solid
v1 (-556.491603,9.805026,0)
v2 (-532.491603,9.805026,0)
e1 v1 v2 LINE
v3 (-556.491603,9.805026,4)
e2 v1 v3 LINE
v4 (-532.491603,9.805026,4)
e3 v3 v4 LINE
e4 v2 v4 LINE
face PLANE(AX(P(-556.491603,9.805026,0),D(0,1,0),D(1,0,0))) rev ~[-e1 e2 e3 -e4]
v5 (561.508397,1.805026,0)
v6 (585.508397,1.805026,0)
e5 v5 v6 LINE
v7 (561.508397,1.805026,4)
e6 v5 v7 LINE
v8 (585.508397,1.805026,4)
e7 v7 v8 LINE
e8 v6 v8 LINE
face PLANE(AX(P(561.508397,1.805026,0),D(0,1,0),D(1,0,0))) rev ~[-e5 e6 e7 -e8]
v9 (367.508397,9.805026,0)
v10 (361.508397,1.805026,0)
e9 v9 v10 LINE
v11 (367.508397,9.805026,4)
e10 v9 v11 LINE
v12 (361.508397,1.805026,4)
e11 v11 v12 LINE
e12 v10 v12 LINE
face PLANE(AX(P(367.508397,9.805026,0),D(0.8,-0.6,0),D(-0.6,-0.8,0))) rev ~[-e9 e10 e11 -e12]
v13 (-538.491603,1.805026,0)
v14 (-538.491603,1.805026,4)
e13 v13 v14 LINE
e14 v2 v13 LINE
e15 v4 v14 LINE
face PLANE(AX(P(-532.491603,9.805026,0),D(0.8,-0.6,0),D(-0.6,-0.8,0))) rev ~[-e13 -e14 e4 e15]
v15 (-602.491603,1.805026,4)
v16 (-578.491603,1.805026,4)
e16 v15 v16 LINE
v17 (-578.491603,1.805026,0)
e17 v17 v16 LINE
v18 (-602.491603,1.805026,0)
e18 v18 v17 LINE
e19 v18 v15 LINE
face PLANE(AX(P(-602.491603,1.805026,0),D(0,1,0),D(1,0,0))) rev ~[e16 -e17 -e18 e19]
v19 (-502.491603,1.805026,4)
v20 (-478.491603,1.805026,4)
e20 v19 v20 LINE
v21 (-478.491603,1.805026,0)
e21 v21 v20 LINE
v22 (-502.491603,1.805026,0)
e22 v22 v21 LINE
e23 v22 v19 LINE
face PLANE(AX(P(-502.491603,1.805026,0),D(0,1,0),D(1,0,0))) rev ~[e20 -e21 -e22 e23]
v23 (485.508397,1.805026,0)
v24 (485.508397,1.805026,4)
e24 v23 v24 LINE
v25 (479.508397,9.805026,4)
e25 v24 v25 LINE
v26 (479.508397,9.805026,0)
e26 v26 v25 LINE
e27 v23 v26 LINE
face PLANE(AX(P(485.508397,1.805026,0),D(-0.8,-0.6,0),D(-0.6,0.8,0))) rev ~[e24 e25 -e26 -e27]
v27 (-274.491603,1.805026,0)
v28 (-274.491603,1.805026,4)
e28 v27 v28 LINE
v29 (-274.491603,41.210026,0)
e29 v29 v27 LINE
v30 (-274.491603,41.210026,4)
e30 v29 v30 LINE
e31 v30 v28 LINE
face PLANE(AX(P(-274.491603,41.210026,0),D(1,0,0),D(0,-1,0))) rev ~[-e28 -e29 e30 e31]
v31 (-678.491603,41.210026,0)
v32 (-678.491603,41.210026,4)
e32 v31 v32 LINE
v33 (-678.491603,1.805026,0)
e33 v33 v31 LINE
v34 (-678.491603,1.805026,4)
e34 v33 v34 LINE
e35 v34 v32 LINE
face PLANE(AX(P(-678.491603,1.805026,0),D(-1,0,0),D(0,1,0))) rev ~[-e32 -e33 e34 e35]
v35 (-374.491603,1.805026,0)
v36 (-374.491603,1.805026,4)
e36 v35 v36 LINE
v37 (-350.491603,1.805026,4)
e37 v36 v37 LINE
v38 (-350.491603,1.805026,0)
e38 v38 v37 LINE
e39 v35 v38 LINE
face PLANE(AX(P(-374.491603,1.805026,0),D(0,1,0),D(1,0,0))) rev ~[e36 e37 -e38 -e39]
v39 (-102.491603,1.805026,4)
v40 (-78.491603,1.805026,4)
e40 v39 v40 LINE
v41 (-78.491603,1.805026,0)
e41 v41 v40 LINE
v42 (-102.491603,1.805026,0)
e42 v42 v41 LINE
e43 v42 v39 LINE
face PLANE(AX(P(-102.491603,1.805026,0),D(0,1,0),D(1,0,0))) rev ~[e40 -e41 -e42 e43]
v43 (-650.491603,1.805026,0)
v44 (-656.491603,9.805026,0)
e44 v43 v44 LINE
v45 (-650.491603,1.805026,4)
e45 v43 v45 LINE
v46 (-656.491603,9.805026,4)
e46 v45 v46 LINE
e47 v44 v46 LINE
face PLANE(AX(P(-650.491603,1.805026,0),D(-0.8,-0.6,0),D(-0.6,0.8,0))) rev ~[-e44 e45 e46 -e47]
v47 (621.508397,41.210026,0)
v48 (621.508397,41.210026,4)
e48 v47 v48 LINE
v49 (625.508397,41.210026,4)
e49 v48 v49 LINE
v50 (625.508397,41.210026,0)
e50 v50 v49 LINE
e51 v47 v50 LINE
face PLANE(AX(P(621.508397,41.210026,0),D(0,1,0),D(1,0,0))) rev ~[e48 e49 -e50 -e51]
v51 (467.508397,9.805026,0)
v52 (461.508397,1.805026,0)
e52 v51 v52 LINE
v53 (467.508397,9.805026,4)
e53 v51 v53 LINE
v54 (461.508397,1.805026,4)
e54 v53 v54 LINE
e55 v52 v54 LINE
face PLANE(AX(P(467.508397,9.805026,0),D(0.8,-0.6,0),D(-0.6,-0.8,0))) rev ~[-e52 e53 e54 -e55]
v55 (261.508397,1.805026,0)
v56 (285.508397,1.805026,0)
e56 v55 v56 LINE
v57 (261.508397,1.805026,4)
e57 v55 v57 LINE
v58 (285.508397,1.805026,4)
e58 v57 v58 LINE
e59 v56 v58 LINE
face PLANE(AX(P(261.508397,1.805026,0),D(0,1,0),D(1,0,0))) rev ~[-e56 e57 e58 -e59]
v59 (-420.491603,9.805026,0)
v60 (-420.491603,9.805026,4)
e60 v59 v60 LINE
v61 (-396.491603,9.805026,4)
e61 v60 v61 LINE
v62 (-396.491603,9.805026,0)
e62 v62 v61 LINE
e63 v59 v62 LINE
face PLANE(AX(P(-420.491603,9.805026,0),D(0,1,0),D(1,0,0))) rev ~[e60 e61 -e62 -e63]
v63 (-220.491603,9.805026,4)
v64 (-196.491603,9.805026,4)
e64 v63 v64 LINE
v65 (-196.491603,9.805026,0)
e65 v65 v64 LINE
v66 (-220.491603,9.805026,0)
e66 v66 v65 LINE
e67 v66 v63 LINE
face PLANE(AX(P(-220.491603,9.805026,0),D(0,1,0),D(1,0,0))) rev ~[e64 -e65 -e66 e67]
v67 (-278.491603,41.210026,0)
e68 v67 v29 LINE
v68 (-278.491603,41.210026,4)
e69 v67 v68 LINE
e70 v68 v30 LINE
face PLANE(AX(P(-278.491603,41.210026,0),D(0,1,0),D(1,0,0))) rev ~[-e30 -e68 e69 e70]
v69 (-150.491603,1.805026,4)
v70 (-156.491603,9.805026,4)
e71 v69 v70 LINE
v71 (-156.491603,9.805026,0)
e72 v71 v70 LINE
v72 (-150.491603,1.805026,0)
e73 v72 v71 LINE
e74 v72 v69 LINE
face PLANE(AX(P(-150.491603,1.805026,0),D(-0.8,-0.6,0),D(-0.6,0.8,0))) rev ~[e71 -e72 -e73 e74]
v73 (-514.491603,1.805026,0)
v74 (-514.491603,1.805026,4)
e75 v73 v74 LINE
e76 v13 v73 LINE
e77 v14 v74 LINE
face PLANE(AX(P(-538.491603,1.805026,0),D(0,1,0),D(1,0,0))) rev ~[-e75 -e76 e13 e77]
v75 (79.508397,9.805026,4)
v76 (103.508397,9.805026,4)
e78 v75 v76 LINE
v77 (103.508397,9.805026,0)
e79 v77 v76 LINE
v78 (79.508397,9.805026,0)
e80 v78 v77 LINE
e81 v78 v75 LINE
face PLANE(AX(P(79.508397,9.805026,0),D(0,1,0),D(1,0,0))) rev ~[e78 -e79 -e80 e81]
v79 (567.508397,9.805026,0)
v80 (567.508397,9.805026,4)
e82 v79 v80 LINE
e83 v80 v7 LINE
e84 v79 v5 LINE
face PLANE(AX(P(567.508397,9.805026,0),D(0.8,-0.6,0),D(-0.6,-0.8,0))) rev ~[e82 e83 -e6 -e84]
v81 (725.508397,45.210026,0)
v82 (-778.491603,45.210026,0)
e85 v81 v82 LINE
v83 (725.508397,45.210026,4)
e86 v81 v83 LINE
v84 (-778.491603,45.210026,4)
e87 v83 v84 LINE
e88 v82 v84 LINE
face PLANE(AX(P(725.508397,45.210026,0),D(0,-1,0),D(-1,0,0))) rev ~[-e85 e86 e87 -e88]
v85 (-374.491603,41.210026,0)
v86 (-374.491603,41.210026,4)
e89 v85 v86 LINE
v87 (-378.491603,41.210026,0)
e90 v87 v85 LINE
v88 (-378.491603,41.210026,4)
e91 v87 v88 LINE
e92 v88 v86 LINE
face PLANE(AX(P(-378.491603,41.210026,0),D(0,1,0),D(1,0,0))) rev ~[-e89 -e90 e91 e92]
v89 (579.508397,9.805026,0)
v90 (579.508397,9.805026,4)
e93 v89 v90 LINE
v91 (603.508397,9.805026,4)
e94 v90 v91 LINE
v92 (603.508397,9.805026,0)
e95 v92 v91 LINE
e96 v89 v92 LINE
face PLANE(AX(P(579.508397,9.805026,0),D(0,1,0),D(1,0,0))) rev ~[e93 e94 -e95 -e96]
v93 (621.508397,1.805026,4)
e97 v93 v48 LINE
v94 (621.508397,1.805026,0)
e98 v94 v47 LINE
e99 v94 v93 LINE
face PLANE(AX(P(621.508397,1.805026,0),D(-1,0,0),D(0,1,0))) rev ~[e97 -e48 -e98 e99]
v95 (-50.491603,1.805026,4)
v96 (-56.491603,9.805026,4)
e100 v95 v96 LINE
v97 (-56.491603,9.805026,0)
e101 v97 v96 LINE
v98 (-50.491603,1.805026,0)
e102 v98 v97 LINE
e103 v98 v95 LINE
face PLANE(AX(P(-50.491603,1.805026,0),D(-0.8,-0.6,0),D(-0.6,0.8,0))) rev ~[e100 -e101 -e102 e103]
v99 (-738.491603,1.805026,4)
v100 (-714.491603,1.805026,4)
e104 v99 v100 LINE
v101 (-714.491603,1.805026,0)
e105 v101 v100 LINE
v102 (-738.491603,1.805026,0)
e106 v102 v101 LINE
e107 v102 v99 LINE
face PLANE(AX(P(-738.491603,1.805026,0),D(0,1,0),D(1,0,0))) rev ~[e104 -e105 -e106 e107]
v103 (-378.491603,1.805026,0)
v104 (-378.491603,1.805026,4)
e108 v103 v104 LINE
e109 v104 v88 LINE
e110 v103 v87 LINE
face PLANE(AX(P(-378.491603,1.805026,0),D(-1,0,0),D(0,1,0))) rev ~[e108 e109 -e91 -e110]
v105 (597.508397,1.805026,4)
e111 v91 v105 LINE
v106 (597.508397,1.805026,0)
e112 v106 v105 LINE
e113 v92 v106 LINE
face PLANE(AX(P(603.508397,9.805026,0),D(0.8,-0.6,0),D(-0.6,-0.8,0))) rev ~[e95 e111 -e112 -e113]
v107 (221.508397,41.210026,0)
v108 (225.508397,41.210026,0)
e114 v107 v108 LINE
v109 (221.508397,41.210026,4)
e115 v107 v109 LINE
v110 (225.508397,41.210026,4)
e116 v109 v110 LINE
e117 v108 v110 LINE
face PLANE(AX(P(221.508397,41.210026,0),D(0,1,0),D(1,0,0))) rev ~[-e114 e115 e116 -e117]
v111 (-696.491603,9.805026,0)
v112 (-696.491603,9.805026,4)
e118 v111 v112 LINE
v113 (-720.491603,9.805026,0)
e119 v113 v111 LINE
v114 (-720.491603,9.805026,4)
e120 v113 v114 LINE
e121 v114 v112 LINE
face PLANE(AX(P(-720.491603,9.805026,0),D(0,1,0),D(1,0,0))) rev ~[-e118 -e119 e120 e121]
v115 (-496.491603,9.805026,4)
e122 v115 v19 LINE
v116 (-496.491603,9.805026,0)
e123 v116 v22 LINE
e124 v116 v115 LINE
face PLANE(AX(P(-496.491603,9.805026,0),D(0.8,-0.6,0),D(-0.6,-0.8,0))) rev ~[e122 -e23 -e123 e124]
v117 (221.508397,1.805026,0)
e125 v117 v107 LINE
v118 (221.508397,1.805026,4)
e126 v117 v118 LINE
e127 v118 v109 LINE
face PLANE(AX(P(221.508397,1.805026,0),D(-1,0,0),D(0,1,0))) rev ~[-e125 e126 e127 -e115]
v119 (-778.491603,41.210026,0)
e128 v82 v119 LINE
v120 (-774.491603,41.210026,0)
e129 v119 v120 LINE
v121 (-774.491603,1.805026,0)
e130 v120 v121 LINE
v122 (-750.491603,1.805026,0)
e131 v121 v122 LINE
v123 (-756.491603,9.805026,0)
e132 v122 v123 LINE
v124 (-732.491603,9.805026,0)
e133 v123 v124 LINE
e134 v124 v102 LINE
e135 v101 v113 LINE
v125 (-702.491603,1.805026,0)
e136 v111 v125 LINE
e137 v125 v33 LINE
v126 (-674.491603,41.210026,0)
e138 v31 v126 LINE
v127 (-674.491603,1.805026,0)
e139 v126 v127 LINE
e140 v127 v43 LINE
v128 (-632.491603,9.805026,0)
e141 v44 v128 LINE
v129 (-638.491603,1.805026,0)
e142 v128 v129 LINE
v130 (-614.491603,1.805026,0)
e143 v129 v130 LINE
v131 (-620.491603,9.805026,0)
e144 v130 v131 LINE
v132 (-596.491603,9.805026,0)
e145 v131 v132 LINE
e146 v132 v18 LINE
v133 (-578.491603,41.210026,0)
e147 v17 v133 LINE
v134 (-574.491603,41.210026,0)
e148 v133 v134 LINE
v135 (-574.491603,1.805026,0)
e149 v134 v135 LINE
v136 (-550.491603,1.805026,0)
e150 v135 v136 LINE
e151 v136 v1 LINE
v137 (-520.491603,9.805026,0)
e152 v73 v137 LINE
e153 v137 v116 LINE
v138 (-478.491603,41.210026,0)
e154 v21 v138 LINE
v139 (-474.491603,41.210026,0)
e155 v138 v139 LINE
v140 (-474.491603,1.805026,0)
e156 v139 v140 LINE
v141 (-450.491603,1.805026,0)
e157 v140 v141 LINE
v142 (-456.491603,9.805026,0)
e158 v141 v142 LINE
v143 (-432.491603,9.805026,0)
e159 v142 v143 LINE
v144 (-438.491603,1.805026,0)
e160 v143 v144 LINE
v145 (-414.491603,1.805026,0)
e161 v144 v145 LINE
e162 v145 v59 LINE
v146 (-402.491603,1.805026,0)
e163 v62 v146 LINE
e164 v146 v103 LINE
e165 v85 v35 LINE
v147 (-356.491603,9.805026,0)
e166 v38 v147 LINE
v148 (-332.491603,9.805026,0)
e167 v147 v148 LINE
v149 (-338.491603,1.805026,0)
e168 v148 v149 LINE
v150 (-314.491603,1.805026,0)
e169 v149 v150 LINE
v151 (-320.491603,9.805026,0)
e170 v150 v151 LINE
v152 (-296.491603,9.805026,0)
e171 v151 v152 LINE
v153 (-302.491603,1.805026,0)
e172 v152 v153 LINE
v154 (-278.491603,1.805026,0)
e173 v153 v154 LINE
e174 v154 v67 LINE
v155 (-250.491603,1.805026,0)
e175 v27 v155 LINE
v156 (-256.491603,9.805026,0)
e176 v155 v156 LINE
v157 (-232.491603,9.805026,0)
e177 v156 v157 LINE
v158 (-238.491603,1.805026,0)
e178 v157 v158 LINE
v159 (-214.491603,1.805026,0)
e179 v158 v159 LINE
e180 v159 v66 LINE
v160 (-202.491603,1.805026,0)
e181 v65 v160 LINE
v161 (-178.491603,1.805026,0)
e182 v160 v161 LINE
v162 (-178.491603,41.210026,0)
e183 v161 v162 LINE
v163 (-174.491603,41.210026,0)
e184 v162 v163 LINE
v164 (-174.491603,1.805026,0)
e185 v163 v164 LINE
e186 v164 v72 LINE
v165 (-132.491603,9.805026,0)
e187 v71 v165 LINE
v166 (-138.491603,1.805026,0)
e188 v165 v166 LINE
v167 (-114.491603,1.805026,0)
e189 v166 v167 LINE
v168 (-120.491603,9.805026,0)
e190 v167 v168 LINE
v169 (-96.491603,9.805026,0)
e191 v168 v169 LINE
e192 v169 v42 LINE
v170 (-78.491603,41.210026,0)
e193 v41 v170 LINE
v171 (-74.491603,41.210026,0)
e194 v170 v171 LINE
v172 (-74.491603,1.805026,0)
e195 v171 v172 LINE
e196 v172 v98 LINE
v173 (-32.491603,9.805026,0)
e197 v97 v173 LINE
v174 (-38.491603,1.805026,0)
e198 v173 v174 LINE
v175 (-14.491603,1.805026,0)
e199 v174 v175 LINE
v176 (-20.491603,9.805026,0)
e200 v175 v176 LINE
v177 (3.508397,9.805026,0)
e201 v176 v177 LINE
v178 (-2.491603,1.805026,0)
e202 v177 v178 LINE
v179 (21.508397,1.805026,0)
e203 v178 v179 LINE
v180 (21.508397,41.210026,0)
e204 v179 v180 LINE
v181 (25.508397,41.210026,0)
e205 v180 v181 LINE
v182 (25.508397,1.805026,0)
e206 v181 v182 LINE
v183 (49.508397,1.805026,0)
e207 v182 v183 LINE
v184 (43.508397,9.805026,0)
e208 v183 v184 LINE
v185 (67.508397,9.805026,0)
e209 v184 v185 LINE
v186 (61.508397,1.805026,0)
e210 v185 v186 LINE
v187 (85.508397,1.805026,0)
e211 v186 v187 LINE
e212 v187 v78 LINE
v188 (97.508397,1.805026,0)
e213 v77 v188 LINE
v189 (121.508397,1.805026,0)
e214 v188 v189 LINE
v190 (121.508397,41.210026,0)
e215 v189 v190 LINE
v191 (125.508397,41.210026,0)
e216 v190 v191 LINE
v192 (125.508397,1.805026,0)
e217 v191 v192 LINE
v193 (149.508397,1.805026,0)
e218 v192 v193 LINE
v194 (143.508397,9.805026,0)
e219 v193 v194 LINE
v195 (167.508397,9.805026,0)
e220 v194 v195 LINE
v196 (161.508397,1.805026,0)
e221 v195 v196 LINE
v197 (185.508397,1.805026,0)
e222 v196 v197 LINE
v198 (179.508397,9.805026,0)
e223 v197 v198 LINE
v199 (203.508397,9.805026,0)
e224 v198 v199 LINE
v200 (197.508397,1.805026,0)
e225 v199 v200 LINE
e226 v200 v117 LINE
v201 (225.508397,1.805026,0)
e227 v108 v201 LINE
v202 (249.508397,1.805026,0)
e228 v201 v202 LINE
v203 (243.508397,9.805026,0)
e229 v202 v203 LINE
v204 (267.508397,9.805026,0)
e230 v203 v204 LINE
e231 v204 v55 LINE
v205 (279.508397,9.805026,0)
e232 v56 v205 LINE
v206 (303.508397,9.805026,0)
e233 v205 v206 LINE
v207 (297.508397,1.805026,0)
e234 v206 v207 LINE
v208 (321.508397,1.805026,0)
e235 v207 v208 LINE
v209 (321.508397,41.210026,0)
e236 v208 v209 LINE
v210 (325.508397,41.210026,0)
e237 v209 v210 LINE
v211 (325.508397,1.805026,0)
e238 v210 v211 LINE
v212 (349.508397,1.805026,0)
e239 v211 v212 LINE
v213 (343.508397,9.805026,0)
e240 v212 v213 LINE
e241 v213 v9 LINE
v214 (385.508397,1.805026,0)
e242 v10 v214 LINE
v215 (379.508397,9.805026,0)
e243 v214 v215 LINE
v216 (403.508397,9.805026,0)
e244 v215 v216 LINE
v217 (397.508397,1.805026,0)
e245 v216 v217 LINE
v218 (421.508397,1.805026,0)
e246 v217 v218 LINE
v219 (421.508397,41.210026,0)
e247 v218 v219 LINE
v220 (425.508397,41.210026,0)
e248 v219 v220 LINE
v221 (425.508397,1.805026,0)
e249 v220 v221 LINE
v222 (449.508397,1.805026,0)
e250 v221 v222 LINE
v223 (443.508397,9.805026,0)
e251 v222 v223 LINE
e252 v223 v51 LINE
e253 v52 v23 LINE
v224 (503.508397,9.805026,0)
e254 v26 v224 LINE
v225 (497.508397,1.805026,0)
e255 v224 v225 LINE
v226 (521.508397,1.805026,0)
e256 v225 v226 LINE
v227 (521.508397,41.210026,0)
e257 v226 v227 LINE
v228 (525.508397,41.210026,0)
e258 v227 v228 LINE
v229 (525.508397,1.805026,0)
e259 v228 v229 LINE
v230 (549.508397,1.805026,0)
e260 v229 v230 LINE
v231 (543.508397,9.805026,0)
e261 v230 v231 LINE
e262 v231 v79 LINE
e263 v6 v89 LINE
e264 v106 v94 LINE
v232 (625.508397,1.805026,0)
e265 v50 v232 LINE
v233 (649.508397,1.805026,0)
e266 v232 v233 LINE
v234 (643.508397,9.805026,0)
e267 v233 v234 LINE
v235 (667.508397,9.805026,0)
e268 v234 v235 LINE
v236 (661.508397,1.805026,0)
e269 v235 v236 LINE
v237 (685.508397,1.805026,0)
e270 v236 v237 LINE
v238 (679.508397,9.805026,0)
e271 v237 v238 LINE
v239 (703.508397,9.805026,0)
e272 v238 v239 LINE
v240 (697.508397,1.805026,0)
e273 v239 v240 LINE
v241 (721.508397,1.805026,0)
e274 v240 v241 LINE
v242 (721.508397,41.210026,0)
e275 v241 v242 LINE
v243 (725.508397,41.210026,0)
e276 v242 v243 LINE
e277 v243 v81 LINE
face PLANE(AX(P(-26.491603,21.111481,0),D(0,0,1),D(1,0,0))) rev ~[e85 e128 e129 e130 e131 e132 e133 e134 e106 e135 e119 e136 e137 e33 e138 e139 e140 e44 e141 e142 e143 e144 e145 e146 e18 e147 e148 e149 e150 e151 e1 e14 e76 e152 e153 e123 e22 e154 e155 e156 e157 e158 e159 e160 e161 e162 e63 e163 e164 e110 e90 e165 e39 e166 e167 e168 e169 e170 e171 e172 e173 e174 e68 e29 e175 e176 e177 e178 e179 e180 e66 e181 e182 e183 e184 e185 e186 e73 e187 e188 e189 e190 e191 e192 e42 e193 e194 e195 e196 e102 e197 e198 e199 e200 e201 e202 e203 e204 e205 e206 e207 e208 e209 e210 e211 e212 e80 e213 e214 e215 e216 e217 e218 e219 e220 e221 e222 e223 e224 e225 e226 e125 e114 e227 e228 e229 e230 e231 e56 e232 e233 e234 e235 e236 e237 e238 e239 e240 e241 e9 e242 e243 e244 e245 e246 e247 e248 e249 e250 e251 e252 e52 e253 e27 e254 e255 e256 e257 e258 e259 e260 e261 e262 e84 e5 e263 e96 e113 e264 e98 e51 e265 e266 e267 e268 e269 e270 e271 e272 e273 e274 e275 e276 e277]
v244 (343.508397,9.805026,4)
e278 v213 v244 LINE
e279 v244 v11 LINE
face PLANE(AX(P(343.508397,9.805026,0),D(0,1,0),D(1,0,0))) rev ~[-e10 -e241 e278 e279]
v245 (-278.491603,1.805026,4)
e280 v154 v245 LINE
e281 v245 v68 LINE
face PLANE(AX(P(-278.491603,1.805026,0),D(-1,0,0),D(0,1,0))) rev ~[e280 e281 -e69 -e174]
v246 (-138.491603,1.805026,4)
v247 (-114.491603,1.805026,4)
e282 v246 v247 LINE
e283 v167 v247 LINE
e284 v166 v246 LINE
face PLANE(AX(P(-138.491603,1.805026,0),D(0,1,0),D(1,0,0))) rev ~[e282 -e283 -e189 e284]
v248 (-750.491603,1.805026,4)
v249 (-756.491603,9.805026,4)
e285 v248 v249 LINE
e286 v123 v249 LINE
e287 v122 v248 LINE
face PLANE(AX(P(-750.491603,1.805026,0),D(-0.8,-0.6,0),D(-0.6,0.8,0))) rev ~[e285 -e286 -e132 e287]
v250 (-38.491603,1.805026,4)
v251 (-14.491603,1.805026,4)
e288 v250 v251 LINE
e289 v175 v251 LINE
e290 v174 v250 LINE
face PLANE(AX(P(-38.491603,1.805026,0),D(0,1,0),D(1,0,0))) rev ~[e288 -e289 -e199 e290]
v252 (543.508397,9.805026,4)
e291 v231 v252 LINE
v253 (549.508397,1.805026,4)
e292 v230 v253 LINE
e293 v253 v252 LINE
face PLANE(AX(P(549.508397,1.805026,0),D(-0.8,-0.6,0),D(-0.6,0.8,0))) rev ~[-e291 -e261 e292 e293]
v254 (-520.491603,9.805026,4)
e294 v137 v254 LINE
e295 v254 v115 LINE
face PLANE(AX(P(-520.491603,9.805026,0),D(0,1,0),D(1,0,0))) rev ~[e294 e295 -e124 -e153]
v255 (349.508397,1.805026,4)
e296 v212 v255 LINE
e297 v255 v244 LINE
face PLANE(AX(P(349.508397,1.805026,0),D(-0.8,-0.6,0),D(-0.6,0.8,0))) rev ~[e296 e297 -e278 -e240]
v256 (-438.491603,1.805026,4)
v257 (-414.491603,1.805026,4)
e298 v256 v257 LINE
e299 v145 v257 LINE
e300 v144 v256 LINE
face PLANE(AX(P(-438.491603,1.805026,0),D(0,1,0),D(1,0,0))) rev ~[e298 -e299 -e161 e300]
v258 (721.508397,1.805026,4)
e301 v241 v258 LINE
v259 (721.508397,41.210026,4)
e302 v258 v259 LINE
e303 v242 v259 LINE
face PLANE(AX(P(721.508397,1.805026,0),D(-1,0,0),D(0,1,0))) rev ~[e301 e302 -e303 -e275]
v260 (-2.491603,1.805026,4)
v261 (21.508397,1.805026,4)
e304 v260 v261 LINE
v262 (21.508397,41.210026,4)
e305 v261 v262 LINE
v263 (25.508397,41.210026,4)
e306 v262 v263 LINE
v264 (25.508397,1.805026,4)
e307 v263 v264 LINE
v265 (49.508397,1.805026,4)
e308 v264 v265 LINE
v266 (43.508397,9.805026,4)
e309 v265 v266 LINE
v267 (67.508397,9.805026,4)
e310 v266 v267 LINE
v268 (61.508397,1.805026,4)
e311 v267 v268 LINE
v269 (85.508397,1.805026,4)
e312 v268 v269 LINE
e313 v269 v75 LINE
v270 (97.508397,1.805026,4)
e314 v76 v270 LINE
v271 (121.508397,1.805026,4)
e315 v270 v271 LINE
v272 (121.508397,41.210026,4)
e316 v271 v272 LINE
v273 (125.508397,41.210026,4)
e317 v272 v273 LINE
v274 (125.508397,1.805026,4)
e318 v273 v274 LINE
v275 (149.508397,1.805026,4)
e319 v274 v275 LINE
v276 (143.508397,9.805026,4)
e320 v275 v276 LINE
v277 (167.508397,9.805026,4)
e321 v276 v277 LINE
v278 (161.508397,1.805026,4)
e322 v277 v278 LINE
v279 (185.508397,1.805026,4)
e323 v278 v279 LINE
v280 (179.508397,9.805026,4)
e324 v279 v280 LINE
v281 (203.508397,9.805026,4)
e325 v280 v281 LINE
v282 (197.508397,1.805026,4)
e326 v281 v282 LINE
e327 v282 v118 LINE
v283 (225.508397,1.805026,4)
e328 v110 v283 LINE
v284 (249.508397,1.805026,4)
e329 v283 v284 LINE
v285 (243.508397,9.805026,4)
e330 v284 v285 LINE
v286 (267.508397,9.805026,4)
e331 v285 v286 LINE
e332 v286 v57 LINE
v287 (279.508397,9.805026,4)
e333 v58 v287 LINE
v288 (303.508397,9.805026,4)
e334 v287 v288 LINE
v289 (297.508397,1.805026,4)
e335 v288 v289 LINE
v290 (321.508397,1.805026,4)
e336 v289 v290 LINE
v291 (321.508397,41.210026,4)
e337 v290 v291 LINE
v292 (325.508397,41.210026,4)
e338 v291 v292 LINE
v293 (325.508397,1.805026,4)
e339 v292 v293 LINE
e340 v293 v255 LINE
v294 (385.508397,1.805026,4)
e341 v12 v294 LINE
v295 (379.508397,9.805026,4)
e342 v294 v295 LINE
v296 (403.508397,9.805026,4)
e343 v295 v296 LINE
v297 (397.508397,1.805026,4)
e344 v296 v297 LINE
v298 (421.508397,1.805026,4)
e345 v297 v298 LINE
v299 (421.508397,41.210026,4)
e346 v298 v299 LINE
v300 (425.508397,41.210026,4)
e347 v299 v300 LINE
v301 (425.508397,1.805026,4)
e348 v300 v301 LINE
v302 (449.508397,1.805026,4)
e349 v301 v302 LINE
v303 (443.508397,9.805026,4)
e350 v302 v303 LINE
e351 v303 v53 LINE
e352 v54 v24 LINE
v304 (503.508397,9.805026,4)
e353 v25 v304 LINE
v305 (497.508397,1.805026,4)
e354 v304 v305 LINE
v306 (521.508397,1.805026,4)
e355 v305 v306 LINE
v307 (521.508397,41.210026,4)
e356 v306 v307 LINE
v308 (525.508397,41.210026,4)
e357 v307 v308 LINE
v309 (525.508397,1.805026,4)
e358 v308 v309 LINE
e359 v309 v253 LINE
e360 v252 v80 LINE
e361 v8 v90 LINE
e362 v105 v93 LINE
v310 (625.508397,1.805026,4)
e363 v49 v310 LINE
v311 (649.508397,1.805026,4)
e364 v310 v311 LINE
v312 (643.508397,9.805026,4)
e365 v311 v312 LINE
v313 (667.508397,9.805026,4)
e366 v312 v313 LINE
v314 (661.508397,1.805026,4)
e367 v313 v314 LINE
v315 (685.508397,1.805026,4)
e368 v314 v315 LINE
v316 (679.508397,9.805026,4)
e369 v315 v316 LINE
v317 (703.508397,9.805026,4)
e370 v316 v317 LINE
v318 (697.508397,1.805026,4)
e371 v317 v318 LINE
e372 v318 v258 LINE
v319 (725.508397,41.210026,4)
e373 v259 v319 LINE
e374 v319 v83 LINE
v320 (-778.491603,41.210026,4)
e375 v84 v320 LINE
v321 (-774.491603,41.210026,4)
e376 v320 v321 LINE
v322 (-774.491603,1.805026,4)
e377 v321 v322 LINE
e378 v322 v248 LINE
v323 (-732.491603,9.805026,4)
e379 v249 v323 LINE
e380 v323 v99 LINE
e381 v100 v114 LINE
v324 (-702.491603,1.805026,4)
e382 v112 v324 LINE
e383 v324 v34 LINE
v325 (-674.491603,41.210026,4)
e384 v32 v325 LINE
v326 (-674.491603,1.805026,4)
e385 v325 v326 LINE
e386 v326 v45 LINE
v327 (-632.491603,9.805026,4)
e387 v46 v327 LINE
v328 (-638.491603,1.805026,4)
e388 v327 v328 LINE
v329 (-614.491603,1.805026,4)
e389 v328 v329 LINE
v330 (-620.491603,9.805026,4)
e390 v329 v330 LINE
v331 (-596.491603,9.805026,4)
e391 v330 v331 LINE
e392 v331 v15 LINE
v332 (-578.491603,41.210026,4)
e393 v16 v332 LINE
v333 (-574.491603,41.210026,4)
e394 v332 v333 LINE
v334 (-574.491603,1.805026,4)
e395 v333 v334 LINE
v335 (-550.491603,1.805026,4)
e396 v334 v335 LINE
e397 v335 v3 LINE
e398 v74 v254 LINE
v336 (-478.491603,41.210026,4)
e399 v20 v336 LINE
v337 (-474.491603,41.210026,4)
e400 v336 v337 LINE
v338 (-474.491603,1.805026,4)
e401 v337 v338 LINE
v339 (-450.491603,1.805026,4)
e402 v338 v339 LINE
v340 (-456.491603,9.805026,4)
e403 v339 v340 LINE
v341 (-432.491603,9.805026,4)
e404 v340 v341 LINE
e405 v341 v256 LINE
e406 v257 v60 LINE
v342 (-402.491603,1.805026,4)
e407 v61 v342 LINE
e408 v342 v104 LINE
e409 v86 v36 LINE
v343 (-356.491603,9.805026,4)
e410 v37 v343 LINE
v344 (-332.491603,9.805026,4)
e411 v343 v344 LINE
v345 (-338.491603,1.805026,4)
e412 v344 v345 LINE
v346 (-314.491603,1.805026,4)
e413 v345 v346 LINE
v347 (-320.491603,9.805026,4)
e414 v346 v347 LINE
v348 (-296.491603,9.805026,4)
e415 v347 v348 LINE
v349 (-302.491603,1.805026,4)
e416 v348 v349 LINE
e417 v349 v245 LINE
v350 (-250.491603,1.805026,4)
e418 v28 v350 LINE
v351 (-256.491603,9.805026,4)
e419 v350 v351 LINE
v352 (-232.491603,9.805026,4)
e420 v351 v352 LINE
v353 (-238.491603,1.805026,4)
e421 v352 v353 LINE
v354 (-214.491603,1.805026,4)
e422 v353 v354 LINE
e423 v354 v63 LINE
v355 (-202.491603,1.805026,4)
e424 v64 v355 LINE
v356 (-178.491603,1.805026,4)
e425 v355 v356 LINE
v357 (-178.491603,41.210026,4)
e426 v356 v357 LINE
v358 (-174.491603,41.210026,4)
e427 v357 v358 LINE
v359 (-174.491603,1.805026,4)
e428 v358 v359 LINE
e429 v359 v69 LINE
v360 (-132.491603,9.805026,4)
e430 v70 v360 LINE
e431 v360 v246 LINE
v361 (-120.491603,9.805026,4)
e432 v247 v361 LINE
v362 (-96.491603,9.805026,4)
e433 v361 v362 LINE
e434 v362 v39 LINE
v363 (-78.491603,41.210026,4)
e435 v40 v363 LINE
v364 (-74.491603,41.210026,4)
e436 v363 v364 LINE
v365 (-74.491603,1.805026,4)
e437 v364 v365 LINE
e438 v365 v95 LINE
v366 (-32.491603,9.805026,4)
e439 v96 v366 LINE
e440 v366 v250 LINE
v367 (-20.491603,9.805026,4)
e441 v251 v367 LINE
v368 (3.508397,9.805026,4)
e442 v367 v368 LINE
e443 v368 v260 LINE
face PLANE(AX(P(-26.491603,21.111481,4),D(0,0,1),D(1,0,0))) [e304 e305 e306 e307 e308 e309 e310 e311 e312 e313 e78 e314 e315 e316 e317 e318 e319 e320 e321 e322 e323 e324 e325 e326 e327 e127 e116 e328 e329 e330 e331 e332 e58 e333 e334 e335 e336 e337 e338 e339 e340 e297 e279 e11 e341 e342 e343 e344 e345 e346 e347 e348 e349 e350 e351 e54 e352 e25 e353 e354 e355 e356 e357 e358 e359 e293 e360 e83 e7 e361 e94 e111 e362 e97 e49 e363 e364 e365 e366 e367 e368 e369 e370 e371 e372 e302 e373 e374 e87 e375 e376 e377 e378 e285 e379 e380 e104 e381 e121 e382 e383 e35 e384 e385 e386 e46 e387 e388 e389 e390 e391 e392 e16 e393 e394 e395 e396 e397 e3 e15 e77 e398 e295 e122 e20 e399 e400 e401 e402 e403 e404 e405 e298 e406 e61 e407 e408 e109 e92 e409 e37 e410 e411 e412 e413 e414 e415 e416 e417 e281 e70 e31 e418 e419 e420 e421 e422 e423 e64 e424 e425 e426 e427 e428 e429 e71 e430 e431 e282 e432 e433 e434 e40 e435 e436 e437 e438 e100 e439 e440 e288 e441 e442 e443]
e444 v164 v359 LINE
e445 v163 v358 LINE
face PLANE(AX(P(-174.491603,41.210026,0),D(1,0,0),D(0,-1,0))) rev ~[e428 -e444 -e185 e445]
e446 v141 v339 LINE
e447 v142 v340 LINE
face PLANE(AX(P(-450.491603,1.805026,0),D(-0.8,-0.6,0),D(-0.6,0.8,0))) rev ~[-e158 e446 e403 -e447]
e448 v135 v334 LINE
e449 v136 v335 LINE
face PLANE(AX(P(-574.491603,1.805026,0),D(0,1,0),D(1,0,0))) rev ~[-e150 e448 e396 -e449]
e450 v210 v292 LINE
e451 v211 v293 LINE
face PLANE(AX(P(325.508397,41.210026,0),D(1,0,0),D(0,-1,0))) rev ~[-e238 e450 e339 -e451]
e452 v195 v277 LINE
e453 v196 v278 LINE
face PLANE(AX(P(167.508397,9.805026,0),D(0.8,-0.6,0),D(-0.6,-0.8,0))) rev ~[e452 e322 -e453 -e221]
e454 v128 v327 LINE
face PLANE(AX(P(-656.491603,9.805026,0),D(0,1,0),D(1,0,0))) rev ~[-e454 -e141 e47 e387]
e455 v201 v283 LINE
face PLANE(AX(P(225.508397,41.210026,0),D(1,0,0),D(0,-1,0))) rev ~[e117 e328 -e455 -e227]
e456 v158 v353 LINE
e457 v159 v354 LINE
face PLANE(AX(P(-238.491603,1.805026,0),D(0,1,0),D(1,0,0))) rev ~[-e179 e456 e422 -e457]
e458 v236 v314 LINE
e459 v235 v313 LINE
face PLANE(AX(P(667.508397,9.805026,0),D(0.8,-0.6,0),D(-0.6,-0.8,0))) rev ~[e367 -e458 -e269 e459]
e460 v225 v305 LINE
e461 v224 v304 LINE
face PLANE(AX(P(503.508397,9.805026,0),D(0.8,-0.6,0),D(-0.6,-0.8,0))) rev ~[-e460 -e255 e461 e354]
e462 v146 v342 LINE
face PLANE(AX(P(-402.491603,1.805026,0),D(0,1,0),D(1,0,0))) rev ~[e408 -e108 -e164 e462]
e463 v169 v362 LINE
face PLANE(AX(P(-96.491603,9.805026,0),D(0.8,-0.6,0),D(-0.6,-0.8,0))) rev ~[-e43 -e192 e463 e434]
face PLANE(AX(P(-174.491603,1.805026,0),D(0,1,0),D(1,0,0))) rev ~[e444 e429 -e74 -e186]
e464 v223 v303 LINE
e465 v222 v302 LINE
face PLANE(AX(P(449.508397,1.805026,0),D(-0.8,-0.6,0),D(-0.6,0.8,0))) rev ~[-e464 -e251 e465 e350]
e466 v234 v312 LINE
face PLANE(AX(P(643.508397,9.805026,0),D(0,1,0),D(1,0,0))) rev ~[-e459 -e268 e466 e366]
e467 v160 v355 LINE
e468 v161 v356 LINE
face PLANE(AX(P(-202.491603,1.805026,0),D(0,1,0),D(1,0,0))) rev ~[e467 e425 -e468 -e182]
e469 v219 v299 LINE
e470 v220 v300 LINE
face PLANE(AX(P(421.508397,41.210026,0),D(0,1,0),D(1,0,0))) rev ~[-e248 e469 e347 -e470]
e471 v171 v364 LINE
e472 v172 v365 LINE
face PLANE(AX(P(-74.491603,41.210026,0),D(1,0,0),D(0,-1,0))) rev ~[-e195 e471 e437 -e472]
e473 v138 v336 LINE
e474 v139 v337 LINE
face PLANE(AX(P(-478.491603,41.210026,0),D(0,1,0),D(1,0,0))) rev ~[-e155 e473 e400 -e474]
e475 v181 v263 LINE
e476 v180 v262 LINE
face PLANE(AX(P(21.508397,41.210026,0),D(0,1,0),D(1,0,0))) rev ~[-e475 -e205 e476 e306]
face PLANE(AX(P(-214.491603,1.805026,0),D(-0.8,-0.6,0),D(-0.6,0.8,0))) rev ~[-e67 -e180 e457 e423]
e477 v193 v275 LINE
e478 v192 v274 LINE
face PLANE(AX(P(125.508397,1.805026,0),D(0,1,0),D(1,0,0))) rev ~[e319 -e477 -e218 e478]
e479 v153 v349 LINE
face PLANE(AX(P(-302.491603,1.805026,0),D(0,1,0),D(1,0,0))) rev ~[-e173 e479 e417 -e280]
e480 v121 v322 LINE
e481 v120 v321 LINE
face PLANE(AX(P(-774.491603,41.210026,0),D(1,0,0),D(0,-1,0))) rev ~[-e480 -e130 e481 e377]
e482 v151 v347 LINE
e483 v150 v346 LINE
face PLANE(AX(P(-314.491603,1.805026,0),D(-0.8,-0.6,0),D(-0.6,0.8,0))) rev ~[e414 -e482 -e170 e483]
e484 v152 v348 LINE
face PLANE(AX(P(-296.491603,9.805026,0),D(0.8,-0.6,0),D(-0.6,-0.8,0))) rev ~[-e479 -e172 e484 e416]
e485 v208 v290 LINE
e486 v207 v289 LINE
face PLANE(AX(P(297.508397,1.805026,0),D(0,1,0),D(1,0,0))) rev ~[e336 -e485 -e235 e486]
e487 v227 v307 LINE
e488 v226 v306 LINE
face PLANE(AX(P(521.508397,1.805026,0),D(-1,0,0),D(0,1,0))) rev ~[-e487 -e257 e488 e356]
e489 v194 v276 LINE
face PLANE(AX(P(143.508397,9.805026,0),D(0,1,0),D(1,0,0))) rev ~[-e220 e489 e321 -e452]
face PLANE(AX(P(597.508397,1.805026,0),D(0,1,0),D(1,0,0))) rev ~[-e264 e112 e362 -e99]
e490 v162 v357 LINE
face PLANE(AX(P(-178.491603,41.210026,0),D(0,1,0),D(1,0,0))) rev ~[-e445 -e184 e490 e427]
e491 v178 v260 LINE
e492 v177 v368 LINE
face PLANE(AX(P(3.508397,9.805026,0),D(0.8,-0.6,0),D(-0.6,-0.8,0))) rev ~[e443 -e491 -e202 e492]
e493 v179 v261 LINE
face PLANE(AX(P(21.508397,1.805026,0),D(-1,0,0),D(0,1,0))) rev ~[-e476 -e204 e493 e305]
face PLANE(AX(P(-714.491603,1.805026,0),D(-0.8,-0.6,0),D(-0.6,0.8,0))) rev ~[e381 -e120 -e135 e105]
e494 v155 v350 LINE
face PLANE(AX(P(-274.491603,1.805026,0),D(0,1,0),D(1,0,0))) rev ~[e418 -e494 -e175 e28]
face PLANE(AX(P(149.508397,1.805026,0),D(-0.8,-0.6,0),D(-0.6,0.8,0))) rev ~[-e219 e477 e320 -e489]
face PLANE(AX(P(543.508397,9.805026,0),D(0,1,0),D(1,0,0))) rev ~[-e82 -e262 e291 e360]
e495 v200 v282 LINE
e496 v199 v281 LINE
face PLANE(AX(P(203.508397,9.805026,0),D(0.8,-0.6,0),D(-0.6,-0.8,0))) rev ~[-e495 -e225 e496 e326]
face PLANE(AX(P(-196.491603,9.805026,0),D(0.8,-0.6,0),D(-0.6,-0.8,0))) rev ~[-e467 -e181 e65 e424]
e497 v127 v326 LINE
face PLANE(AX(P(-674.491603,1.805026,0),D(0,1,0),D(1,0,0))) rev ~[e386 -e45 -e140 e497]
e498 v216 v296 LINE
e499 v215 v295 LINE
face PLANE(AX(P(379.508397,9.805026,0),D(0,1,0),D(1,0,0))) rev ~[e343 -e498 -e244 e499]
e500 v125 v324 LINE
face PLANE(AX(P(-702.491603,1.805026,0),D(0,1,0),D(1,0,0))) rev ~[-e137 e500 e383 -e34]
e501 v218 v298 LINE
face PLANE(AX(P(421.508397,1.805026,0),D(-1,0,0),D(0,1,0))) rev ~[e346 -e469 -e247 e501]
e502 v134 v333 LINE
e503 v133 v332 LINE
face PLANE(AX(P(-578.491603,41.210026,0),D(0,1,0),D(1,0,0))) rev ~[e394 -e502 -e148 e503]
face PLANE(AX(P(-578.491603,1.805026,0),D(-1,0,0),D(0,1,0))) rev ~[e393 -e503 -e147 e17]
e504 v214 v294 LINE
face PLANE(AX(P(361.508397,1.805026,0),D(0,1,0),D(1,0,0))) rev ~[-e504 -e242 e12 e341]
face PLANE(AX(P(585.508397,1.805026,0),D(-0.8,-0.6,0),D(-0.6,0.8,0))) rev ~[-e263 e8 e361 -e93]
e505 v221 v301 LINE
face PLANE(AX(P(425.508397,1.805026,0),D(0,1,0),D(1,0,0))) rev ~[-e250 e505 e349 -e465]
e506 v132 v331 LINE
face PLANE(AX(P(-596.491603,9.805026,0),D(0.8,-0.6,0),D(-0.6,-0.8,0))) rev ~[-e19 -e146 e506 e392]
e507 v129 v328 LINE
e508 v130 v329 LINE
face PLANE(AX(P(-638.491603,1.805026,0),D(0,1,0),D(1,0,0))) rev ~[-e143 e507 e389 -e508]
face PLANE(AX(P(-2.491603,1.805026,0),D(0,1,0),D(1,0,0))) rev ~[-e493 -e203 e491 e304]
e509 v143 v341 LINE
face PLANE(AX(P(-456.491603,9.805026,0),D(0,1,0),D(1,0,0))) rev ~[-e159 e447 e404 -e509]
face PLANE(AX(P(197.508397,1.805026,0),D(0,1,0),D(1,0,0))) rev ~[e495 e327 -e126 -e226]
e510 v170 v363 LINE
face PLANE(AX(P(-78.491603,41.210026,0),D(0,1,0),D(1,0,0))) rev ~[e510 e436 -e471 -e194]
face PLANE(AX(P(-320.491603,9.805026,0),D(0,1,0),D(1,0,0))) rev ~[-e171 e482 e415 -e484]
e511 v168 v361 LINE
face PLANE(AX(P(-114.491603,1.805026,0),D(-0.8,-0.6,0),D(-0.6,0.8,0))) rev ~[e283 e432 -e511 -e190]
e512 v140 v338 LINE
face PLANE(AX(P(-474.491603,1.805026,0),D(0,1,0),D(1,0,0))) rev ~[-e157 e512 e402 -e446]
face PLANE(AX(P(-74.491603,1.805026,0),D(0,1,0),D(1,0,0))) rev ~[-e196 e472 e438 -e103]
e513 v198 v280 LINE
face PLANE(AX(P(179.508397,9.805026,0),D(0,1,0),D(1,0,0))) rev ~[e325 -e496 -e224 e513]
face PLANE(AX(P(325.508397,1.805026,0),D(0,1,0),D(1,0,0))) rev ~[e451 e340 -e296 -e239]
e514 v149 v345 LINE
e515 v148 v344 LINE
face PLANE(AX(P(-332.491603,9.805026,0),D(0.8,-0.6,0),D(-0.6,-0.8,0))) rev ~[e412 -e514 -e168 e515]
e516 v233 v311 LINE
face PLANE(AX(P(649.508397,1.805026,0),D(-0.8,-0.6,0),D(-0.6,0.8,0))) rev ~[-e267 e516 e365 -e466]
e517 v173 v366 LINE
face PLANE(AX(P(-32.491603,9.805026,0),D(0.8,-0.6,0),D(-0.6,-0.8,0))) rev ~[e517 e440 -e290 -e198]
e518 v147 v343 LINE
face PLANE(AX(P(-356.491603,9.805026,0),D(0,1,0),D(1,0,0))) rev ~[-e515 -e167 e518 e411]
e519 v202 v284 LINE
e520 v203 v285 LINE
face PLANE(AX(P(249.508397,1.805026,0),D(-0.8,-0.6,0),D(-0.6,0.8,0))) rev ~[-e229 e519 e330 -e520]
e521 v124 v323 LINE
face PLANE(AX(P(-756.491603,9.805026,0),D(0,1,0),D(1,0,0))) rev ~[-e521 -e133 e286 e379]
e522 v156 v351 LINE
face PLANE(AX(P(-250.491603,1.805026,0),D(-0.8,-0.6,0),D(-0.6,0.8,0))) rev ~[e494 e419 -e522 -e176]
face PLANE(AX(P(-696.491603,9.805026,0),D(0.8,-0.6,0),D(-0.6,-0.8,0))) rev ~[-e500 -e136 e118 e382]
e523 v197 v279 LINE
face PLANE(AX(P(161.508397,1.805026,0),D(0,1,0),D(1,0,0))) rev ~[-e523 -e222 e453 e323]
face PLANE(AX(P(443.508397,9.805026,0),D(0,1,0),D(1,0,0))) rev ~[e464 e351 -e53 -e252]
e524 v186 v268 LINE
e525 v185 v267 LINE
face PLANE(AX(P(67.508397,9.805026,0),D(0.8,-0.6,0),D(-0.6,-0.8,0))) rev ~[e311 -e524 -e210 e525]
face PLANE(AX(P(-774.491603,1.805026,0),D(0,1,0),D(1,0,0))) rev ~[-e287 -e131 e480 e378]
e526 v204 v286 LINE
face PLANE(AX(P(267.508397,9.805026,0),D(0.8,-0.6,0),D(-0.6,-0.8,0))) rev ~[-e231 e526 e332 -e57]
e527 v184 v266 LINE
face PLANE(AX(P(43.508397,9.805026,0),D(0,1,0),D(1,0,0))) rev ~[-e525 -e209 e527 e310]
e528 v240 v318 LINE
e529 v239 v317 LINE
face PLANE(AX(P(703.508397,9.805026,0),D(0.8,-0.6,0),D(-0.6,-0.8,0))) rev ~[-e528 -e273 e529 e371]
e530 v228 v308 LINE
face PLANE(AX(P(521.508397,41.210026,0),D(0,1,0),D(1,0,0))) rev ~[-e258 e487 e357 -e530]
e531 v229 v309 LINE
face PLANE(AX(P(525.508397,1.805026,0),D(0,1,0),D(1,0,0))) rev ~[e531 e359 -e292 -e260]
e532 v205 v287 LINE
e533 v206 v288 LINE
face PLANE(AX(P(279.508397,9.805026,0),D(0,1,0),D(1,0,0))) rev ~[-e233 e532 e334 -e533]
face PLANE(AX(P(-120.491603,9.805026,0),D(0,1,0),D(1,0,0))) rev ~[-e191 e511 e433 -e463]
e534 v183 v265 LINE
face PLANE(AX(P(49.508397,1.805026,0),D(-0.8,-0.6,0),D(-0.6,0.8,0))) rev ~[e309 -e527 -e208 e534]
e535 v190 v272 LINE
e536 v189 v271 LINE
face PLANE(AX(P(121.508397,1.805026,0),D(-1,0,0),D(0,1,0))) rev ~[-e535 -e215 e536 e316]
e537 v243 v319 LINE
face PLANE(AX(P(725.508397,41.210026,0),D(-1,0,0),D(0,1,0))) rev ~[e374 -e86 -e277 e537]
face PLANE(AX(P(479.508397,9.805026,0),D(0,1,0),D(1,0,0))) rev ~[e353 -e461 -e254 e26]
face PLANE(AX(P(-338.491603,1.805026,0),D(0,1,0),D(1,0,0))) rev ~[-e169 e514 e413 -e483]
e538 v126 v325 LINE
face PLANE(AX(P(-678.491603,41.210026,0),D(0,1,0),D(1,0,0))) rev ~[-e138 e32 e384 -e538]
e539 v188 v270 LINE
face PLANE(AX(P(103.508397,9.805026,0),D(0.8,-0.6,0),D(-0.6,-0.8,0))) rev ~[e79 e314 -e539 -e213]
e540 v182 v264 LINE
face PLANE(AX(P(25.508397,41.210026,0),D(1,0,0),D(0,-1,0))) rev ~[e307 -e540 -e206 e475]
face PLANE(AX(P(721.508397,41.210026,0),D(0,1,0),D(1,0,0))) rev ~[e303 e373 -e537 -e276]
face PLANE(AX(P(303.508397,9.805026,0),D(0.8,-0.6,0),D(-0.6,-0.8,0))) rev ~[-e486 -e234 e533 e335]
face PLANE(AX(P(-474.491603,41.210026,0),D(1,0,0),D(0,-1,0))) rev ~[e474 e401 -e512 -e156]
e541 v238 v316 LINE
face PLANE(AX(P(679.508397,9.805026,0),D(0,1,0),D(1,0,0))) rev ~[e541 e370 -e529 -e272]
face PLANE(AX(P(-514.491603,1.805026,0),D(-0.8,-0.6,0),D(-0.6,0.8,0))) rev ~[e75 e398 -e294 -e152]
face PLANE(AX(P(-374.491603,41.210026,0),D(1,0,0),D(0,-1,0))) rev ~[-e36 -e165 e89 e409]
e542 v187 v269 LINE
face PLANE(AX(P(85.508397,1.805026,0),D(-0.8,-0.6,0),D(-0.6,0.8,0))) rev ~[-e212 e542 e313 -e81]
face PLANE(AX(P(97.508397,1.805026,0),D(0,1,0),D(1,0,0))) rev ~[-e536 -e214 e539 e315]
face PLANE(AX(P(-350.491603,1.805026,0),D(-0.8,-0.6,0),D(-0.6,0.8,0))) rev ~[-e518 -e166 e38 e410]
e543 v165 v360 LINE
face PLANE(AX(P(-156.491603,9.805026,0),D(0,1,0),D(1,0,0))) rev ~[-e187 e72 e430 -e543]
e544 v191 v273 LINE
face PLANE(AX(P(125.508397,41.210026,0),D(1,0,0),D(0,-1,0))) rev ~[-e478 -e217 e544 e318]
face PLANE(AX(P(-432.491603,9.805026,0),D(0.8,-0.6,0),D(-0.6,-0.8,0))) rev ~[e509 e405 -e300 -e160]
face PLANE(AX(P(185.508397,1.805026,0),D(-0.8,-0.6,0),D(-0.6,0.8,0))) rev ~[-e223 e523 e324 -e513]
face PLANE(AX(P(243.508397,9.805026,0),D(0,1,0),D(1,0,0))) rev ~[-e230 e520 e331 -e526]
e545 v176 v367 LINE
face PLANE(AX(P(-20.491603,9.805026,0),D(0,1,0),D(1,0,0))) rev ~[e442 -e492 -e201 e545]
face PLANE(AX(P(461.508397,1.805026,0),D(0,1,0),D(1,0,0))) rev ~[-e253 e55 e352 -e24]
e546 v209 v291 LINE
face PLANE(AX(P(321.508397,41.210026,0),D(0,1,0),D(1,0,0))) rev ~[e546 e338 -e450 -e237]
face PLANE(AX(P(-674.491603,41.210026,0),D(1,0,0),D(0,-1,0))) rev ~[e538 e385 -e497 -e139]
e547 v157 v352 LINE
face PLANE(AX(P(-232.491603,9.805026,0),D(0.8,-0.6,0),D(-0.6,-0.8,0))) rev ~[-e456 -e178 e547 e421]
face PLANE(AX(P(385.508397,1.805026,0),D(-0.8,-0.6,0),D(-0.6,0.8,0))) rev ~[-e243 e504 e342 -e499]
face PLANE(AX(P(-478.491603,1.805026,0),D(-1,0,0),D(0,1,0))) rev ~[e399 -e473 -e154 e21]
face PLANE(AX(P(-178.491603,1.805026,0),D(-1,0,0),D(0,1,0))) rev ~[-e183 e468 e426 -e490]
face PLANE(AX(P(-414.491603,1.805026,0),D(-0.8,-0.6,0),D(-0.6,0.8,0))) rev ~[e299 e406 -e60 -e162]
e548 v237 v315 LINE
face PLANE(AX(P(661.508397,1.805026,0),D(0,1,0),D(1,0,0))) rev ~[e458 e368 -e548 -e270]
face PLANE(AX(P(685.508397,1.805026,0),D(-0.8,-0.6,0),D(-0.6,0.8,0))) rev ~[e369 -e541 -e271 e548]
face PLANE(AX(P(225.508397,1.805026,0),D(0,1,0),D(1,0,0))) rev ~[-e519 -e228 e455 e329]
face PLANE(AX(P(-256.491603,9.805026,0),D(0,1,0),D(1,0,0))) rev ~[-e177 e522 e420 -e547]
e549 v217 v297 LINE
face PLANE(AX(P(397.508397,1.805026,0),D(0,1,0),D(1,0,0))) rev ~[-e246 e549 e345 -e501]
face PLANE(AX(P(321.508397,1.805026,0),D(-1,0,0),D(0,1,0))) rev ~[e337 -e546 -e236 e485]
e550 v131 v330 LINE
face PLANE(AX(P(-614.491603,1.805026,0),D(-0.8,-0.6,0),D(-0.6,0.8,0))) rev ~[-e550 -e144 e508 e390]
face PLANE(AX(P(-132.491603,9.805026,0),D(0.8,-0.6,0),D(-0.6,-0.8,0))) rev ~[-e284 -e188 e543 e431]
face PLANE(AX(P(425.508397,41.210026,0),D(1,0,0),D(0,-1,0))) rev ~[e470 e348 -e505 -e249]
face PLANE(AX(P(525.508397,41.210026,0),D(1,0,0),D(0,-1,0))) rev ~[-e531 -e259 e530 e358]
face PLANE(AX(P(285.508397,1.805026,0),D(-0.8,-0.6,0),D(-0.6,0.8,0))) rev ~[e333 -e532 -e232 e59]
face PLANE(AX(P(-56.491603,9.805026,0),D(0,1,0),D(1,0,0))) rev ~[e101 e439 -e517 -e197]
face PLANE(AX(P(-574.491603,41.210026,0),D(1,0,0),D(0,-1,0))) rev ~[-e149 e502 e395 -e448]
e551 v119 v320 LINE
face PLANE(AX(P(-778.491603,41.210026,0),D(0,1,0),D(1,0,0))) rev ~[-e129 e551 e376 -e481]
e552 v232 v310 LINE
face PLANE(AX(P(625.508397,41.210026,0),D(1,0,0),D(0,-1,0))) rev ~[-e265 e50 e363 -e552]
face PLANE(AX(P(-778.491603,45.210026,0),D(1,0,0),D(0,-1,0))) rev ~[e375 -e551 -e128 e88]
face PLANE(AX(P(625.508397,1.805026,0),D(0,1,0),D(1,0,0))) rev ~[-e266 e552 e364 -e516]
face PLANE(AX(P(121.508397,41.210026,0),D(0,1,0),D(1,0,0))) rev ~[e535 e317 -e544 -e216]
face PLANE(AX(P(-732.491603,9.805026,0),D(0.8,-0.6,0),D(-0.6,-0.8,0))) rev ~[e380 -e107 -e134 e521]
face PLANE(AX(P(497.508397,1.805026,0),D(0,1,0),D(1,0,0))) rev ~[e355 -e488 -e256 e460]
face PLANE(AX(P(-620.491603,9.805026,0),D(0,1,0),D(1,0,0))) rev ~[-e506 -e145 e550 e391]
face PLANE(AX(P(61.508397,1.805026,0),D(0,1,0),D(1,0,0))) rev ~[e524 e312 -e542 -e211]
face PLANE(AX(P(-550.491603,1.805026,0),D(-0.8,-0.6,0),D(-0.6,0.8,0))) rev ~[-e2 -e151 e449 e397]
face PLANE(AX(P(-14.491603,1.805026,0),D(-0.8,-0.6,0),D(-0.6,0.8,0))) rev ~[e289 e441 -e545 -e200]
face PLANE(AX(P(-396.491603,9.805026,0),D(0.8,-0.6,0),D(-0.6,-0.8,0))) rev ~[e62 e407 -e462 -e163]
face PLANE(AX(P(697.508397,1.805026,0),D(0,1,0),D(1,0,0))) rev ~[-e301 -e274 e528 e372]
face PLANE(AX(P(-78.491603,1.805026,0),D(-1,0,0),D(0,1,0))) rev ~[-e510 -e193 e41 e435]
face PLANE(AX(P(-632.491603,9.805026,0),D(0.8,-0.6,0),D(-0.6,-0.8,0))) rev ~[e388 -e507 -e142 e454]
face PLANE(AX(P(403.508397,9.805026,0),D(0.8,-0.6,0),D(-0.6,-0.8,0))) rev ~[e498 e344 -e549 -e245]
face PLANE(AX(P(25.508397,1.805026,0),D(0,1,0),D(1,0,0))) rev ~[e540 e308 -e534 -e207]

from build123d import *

# Parameters (mm, degrees)
BOSS_EXTRUDE1_DEPTH = 4


with BuildPart() as part:
    # Sketch2 → Boss-Extrude1 (new body)
    with BuildSketch(Plane.XY):
        Polygon((-778.491602678, 45.210025961), (-778.491602678, 41.210025961), (-774.491602678, 41.210025961), (-774.491602678, 1.805025961), (-750.491602678, 1.805025961), (-756.491602678, 9.805025961), (-732.491602678, 9.805025961), (-738.491602678, 1.805025961), (-714.491602678, 1.805025961), (-720.491602678, 9.805025961), (-696.491602678, 9.805025961), (-702.491602678, 1.805025961), (-678.491602678, 1.805025961), (-678.491602678, 41.210025961), (-674.491602678, 41.210025961), (-674.491602678, 1.805025961), (-650.491602678, 1.805025961), (-656.491602678, 9.805025961), (-632.491602678, 9.805025961), (-638.491602678, 1.805025961), (-614.491602678, 1.805025961), (-620.491602678, 9.805025961), (-596.491602678, 9.805025961), (-602.491602678, 1.805025961), (-578.491602678, 1.805025961), (-578.491602678, 41.210025961), (-574.491602678, 41.210025961), (-574.491602678, 1.805025961), (-550.491602678, 1.805025961), (-556.491602678, 9.805025961), (-532.491602678, 9.805025961), (-538.491602678, 1.805025961), (-514.491602678, 1.805025961), (-520.491602678, 9.805025961), (-496.491602678, 9.805025961), (-502.491602678, 1.805025961), (-478.491602678, 1.805025961), (-478.491602678, 41.210025961), (-474.491602678, 41.210025961), (-474.491602678, 1.805025961), (-450.491602678, 1.805025961), (-456.491602678, 9.805025961), (-432.491602678, 9.805025961), (-438.491602678, 1.805025961), (-414.491602678, 1.805025961), (-420.491602678, 9.805025961), (-396.491602678, 9.805025961), (-402.491602678, 1.805025961), (-378.491602678, 1.805025961), (-378.491602678, 41.210025961), (-374.491602678, 41.210025961), (-374.491602678, 1.805025961), (-350.491602678, 1.805025961), (-356.491602678, 9.805025961), (-332.491602678, 9.805025961), (-338.491602678, 1.805025961), (-314.491602678, 1.805025961), (-320.491602678, 9.805025961), (-296.491602678, 9.805025961), (-302.491602678, 1.805025961), (-278.491602678, 1.805025961), (-278.491602678, 41.210025961), (-274.491602678, 41.210025961), (-274.491602678, 1.805025961), (-250.491602678, 1.805025961), (-256.491602678, 9.805025961), (-232.491602678, 9.805025961), (-238.491602678, 1.805025961), (-214.491602678, 1.805025961), (-220.491602678, 9.805025961), (-196.491602678, 9.805025961), (-202.491602678, 1.805025961), (-178.491602678, 1.805025961), (-178.491602678, 41.210025961), (-174.491602678, 41.210025961), (-174.491602678, 1.805025961), (-150.491602678, 1.805025961), (-156.491602678, 9.805025961), (-132.491602678, 9.805025961), (-138.491602678, 1.805025961), (-114.491602678, 1.805025961), (-120.491602678, 9.805025961), (-96.491602678, 9.805025961), (-102.491602678, 1.805025961), (-78.491602678, 1.805025961), (-78.491602678, 41.210025961), (-74.491602678, 41.210025961), (-74.491602678, 1.805025961), (-50.491602678, 1.805025961), (-56.491602678, 9.805025961), (-32.491602678, 9.805025961), (-38.491602678, 1.805025961), (-14.491602678, 1.805025961), (-20.491602678, 9.805025961), (3.508397322, 9.805025961), (-2.491602678, 1.805025961), (21.508397322, 1.805025961), (21.508397322, 41.210025961), (25.508397322, 41.210025961), (25.508397322, 1.805025961), (49.508397322, 1.805025961), (43.508397322, 9.805025961), (67.508397322, 9.805025961), (61.508397322, 1.805025961), (85.508397322, 1.805025961), (79.508397322, 9.805025961), (103.508397322, 9.805025961), (97.508397322, 1.805025961), (121.508397322, 1.805025961), (121.508397322, 41.210025961), (125.508397322, 41.210025961), (125.508397322, 1.805025961), (149.508397322, 1.805025961), (143.508397322, 9.805025961), (167.508397322, 9.805025961), (161.508397322, 1.805025961), (185.508397322, 1.805025961), (179.508397322, 9.805025961), (203.508397322, 9.805025961), (197.508397322, 1.805025961), (221.508397322, 1.805025961), (221.508397322, 41.210025961), (225.508397322, 41.210025961), (225.508397322, 1.805025961), (249.508397322, 1.805025961), (243.508397322, 9.805025961), (267.508397322, 9.805025961), (261.508397322, 1.805025961), (285.508397322, 1.805025961), (279.508397322, 9.805025961), (303.508397322, 9.805025961), (297.508397322, 1.805025961), (321.508397322, 1.805025961), (321.508397322, 41.210025961), (325.508397322, 41.210025961), (325.508397322, 1.805025961), (349.508397322, 1.805025961), (343.508397322, 9.805025961), (367.508397322, 9.805025961), (361.508397322, 1.805025961), (385.508397322, 1.805025961), (379.508397322, 9.805025961), (403.508397322, 9.805025961), (397.508397322, 1.805025961), (421.508397322, 1.805025961), (421.508397322, 41.210025961), (425.508397322, 41.210025961), (425.508397322, 1.805025961), (449.508397322, 1.805025961), (443.508397322, 9.805025961), (467.508397322, 9.805025961), (461.508397322, 1.805025961), (485.508397322, 1.805025961), (479.508397322, 9.805025961), (503.508397322, 9.805025961), (497.508397322, 1.805025961), (521.508397322, 1.805025961), (521.508397322, 41.210025961), (525.508397322, 41.210025961), (525.508397322, 1.805025961), (549.508397322, 1.805025961), (543.508397322, 9.805025961), (567.508397322, 9.805025961), (561.508397322, 1.805025961), (585.508397322, 1.805025961), (579.508397322, 9.805025961), (603.508397322, 9.805025961), (597.508397322, 1.805025961), (621.508397322, 1.805025961), (621.508397322, 41.210025961), (625.508397322, 41.210025961), (625.508397322, 1.805025961), (649.508397322, 1.805025961), (643.508397322, 9.805025961), (667.508397322, 9.805025961), (661.508397322, 1.805025961), (685.508397322, 1.805025961), (679.508397322, 9.805025961), (703.508397322, 9.805025961), (697.508397322, 1.805025961), (721.508397322, 1.805025961), (721.508397322, 41.210025961), (725.508397322, 41.210025961), (725.508397322, 45.210025961), align=None)
    extrude(amount=BOSS_EXTRUDE1_DEPTH)


solid = part.part
